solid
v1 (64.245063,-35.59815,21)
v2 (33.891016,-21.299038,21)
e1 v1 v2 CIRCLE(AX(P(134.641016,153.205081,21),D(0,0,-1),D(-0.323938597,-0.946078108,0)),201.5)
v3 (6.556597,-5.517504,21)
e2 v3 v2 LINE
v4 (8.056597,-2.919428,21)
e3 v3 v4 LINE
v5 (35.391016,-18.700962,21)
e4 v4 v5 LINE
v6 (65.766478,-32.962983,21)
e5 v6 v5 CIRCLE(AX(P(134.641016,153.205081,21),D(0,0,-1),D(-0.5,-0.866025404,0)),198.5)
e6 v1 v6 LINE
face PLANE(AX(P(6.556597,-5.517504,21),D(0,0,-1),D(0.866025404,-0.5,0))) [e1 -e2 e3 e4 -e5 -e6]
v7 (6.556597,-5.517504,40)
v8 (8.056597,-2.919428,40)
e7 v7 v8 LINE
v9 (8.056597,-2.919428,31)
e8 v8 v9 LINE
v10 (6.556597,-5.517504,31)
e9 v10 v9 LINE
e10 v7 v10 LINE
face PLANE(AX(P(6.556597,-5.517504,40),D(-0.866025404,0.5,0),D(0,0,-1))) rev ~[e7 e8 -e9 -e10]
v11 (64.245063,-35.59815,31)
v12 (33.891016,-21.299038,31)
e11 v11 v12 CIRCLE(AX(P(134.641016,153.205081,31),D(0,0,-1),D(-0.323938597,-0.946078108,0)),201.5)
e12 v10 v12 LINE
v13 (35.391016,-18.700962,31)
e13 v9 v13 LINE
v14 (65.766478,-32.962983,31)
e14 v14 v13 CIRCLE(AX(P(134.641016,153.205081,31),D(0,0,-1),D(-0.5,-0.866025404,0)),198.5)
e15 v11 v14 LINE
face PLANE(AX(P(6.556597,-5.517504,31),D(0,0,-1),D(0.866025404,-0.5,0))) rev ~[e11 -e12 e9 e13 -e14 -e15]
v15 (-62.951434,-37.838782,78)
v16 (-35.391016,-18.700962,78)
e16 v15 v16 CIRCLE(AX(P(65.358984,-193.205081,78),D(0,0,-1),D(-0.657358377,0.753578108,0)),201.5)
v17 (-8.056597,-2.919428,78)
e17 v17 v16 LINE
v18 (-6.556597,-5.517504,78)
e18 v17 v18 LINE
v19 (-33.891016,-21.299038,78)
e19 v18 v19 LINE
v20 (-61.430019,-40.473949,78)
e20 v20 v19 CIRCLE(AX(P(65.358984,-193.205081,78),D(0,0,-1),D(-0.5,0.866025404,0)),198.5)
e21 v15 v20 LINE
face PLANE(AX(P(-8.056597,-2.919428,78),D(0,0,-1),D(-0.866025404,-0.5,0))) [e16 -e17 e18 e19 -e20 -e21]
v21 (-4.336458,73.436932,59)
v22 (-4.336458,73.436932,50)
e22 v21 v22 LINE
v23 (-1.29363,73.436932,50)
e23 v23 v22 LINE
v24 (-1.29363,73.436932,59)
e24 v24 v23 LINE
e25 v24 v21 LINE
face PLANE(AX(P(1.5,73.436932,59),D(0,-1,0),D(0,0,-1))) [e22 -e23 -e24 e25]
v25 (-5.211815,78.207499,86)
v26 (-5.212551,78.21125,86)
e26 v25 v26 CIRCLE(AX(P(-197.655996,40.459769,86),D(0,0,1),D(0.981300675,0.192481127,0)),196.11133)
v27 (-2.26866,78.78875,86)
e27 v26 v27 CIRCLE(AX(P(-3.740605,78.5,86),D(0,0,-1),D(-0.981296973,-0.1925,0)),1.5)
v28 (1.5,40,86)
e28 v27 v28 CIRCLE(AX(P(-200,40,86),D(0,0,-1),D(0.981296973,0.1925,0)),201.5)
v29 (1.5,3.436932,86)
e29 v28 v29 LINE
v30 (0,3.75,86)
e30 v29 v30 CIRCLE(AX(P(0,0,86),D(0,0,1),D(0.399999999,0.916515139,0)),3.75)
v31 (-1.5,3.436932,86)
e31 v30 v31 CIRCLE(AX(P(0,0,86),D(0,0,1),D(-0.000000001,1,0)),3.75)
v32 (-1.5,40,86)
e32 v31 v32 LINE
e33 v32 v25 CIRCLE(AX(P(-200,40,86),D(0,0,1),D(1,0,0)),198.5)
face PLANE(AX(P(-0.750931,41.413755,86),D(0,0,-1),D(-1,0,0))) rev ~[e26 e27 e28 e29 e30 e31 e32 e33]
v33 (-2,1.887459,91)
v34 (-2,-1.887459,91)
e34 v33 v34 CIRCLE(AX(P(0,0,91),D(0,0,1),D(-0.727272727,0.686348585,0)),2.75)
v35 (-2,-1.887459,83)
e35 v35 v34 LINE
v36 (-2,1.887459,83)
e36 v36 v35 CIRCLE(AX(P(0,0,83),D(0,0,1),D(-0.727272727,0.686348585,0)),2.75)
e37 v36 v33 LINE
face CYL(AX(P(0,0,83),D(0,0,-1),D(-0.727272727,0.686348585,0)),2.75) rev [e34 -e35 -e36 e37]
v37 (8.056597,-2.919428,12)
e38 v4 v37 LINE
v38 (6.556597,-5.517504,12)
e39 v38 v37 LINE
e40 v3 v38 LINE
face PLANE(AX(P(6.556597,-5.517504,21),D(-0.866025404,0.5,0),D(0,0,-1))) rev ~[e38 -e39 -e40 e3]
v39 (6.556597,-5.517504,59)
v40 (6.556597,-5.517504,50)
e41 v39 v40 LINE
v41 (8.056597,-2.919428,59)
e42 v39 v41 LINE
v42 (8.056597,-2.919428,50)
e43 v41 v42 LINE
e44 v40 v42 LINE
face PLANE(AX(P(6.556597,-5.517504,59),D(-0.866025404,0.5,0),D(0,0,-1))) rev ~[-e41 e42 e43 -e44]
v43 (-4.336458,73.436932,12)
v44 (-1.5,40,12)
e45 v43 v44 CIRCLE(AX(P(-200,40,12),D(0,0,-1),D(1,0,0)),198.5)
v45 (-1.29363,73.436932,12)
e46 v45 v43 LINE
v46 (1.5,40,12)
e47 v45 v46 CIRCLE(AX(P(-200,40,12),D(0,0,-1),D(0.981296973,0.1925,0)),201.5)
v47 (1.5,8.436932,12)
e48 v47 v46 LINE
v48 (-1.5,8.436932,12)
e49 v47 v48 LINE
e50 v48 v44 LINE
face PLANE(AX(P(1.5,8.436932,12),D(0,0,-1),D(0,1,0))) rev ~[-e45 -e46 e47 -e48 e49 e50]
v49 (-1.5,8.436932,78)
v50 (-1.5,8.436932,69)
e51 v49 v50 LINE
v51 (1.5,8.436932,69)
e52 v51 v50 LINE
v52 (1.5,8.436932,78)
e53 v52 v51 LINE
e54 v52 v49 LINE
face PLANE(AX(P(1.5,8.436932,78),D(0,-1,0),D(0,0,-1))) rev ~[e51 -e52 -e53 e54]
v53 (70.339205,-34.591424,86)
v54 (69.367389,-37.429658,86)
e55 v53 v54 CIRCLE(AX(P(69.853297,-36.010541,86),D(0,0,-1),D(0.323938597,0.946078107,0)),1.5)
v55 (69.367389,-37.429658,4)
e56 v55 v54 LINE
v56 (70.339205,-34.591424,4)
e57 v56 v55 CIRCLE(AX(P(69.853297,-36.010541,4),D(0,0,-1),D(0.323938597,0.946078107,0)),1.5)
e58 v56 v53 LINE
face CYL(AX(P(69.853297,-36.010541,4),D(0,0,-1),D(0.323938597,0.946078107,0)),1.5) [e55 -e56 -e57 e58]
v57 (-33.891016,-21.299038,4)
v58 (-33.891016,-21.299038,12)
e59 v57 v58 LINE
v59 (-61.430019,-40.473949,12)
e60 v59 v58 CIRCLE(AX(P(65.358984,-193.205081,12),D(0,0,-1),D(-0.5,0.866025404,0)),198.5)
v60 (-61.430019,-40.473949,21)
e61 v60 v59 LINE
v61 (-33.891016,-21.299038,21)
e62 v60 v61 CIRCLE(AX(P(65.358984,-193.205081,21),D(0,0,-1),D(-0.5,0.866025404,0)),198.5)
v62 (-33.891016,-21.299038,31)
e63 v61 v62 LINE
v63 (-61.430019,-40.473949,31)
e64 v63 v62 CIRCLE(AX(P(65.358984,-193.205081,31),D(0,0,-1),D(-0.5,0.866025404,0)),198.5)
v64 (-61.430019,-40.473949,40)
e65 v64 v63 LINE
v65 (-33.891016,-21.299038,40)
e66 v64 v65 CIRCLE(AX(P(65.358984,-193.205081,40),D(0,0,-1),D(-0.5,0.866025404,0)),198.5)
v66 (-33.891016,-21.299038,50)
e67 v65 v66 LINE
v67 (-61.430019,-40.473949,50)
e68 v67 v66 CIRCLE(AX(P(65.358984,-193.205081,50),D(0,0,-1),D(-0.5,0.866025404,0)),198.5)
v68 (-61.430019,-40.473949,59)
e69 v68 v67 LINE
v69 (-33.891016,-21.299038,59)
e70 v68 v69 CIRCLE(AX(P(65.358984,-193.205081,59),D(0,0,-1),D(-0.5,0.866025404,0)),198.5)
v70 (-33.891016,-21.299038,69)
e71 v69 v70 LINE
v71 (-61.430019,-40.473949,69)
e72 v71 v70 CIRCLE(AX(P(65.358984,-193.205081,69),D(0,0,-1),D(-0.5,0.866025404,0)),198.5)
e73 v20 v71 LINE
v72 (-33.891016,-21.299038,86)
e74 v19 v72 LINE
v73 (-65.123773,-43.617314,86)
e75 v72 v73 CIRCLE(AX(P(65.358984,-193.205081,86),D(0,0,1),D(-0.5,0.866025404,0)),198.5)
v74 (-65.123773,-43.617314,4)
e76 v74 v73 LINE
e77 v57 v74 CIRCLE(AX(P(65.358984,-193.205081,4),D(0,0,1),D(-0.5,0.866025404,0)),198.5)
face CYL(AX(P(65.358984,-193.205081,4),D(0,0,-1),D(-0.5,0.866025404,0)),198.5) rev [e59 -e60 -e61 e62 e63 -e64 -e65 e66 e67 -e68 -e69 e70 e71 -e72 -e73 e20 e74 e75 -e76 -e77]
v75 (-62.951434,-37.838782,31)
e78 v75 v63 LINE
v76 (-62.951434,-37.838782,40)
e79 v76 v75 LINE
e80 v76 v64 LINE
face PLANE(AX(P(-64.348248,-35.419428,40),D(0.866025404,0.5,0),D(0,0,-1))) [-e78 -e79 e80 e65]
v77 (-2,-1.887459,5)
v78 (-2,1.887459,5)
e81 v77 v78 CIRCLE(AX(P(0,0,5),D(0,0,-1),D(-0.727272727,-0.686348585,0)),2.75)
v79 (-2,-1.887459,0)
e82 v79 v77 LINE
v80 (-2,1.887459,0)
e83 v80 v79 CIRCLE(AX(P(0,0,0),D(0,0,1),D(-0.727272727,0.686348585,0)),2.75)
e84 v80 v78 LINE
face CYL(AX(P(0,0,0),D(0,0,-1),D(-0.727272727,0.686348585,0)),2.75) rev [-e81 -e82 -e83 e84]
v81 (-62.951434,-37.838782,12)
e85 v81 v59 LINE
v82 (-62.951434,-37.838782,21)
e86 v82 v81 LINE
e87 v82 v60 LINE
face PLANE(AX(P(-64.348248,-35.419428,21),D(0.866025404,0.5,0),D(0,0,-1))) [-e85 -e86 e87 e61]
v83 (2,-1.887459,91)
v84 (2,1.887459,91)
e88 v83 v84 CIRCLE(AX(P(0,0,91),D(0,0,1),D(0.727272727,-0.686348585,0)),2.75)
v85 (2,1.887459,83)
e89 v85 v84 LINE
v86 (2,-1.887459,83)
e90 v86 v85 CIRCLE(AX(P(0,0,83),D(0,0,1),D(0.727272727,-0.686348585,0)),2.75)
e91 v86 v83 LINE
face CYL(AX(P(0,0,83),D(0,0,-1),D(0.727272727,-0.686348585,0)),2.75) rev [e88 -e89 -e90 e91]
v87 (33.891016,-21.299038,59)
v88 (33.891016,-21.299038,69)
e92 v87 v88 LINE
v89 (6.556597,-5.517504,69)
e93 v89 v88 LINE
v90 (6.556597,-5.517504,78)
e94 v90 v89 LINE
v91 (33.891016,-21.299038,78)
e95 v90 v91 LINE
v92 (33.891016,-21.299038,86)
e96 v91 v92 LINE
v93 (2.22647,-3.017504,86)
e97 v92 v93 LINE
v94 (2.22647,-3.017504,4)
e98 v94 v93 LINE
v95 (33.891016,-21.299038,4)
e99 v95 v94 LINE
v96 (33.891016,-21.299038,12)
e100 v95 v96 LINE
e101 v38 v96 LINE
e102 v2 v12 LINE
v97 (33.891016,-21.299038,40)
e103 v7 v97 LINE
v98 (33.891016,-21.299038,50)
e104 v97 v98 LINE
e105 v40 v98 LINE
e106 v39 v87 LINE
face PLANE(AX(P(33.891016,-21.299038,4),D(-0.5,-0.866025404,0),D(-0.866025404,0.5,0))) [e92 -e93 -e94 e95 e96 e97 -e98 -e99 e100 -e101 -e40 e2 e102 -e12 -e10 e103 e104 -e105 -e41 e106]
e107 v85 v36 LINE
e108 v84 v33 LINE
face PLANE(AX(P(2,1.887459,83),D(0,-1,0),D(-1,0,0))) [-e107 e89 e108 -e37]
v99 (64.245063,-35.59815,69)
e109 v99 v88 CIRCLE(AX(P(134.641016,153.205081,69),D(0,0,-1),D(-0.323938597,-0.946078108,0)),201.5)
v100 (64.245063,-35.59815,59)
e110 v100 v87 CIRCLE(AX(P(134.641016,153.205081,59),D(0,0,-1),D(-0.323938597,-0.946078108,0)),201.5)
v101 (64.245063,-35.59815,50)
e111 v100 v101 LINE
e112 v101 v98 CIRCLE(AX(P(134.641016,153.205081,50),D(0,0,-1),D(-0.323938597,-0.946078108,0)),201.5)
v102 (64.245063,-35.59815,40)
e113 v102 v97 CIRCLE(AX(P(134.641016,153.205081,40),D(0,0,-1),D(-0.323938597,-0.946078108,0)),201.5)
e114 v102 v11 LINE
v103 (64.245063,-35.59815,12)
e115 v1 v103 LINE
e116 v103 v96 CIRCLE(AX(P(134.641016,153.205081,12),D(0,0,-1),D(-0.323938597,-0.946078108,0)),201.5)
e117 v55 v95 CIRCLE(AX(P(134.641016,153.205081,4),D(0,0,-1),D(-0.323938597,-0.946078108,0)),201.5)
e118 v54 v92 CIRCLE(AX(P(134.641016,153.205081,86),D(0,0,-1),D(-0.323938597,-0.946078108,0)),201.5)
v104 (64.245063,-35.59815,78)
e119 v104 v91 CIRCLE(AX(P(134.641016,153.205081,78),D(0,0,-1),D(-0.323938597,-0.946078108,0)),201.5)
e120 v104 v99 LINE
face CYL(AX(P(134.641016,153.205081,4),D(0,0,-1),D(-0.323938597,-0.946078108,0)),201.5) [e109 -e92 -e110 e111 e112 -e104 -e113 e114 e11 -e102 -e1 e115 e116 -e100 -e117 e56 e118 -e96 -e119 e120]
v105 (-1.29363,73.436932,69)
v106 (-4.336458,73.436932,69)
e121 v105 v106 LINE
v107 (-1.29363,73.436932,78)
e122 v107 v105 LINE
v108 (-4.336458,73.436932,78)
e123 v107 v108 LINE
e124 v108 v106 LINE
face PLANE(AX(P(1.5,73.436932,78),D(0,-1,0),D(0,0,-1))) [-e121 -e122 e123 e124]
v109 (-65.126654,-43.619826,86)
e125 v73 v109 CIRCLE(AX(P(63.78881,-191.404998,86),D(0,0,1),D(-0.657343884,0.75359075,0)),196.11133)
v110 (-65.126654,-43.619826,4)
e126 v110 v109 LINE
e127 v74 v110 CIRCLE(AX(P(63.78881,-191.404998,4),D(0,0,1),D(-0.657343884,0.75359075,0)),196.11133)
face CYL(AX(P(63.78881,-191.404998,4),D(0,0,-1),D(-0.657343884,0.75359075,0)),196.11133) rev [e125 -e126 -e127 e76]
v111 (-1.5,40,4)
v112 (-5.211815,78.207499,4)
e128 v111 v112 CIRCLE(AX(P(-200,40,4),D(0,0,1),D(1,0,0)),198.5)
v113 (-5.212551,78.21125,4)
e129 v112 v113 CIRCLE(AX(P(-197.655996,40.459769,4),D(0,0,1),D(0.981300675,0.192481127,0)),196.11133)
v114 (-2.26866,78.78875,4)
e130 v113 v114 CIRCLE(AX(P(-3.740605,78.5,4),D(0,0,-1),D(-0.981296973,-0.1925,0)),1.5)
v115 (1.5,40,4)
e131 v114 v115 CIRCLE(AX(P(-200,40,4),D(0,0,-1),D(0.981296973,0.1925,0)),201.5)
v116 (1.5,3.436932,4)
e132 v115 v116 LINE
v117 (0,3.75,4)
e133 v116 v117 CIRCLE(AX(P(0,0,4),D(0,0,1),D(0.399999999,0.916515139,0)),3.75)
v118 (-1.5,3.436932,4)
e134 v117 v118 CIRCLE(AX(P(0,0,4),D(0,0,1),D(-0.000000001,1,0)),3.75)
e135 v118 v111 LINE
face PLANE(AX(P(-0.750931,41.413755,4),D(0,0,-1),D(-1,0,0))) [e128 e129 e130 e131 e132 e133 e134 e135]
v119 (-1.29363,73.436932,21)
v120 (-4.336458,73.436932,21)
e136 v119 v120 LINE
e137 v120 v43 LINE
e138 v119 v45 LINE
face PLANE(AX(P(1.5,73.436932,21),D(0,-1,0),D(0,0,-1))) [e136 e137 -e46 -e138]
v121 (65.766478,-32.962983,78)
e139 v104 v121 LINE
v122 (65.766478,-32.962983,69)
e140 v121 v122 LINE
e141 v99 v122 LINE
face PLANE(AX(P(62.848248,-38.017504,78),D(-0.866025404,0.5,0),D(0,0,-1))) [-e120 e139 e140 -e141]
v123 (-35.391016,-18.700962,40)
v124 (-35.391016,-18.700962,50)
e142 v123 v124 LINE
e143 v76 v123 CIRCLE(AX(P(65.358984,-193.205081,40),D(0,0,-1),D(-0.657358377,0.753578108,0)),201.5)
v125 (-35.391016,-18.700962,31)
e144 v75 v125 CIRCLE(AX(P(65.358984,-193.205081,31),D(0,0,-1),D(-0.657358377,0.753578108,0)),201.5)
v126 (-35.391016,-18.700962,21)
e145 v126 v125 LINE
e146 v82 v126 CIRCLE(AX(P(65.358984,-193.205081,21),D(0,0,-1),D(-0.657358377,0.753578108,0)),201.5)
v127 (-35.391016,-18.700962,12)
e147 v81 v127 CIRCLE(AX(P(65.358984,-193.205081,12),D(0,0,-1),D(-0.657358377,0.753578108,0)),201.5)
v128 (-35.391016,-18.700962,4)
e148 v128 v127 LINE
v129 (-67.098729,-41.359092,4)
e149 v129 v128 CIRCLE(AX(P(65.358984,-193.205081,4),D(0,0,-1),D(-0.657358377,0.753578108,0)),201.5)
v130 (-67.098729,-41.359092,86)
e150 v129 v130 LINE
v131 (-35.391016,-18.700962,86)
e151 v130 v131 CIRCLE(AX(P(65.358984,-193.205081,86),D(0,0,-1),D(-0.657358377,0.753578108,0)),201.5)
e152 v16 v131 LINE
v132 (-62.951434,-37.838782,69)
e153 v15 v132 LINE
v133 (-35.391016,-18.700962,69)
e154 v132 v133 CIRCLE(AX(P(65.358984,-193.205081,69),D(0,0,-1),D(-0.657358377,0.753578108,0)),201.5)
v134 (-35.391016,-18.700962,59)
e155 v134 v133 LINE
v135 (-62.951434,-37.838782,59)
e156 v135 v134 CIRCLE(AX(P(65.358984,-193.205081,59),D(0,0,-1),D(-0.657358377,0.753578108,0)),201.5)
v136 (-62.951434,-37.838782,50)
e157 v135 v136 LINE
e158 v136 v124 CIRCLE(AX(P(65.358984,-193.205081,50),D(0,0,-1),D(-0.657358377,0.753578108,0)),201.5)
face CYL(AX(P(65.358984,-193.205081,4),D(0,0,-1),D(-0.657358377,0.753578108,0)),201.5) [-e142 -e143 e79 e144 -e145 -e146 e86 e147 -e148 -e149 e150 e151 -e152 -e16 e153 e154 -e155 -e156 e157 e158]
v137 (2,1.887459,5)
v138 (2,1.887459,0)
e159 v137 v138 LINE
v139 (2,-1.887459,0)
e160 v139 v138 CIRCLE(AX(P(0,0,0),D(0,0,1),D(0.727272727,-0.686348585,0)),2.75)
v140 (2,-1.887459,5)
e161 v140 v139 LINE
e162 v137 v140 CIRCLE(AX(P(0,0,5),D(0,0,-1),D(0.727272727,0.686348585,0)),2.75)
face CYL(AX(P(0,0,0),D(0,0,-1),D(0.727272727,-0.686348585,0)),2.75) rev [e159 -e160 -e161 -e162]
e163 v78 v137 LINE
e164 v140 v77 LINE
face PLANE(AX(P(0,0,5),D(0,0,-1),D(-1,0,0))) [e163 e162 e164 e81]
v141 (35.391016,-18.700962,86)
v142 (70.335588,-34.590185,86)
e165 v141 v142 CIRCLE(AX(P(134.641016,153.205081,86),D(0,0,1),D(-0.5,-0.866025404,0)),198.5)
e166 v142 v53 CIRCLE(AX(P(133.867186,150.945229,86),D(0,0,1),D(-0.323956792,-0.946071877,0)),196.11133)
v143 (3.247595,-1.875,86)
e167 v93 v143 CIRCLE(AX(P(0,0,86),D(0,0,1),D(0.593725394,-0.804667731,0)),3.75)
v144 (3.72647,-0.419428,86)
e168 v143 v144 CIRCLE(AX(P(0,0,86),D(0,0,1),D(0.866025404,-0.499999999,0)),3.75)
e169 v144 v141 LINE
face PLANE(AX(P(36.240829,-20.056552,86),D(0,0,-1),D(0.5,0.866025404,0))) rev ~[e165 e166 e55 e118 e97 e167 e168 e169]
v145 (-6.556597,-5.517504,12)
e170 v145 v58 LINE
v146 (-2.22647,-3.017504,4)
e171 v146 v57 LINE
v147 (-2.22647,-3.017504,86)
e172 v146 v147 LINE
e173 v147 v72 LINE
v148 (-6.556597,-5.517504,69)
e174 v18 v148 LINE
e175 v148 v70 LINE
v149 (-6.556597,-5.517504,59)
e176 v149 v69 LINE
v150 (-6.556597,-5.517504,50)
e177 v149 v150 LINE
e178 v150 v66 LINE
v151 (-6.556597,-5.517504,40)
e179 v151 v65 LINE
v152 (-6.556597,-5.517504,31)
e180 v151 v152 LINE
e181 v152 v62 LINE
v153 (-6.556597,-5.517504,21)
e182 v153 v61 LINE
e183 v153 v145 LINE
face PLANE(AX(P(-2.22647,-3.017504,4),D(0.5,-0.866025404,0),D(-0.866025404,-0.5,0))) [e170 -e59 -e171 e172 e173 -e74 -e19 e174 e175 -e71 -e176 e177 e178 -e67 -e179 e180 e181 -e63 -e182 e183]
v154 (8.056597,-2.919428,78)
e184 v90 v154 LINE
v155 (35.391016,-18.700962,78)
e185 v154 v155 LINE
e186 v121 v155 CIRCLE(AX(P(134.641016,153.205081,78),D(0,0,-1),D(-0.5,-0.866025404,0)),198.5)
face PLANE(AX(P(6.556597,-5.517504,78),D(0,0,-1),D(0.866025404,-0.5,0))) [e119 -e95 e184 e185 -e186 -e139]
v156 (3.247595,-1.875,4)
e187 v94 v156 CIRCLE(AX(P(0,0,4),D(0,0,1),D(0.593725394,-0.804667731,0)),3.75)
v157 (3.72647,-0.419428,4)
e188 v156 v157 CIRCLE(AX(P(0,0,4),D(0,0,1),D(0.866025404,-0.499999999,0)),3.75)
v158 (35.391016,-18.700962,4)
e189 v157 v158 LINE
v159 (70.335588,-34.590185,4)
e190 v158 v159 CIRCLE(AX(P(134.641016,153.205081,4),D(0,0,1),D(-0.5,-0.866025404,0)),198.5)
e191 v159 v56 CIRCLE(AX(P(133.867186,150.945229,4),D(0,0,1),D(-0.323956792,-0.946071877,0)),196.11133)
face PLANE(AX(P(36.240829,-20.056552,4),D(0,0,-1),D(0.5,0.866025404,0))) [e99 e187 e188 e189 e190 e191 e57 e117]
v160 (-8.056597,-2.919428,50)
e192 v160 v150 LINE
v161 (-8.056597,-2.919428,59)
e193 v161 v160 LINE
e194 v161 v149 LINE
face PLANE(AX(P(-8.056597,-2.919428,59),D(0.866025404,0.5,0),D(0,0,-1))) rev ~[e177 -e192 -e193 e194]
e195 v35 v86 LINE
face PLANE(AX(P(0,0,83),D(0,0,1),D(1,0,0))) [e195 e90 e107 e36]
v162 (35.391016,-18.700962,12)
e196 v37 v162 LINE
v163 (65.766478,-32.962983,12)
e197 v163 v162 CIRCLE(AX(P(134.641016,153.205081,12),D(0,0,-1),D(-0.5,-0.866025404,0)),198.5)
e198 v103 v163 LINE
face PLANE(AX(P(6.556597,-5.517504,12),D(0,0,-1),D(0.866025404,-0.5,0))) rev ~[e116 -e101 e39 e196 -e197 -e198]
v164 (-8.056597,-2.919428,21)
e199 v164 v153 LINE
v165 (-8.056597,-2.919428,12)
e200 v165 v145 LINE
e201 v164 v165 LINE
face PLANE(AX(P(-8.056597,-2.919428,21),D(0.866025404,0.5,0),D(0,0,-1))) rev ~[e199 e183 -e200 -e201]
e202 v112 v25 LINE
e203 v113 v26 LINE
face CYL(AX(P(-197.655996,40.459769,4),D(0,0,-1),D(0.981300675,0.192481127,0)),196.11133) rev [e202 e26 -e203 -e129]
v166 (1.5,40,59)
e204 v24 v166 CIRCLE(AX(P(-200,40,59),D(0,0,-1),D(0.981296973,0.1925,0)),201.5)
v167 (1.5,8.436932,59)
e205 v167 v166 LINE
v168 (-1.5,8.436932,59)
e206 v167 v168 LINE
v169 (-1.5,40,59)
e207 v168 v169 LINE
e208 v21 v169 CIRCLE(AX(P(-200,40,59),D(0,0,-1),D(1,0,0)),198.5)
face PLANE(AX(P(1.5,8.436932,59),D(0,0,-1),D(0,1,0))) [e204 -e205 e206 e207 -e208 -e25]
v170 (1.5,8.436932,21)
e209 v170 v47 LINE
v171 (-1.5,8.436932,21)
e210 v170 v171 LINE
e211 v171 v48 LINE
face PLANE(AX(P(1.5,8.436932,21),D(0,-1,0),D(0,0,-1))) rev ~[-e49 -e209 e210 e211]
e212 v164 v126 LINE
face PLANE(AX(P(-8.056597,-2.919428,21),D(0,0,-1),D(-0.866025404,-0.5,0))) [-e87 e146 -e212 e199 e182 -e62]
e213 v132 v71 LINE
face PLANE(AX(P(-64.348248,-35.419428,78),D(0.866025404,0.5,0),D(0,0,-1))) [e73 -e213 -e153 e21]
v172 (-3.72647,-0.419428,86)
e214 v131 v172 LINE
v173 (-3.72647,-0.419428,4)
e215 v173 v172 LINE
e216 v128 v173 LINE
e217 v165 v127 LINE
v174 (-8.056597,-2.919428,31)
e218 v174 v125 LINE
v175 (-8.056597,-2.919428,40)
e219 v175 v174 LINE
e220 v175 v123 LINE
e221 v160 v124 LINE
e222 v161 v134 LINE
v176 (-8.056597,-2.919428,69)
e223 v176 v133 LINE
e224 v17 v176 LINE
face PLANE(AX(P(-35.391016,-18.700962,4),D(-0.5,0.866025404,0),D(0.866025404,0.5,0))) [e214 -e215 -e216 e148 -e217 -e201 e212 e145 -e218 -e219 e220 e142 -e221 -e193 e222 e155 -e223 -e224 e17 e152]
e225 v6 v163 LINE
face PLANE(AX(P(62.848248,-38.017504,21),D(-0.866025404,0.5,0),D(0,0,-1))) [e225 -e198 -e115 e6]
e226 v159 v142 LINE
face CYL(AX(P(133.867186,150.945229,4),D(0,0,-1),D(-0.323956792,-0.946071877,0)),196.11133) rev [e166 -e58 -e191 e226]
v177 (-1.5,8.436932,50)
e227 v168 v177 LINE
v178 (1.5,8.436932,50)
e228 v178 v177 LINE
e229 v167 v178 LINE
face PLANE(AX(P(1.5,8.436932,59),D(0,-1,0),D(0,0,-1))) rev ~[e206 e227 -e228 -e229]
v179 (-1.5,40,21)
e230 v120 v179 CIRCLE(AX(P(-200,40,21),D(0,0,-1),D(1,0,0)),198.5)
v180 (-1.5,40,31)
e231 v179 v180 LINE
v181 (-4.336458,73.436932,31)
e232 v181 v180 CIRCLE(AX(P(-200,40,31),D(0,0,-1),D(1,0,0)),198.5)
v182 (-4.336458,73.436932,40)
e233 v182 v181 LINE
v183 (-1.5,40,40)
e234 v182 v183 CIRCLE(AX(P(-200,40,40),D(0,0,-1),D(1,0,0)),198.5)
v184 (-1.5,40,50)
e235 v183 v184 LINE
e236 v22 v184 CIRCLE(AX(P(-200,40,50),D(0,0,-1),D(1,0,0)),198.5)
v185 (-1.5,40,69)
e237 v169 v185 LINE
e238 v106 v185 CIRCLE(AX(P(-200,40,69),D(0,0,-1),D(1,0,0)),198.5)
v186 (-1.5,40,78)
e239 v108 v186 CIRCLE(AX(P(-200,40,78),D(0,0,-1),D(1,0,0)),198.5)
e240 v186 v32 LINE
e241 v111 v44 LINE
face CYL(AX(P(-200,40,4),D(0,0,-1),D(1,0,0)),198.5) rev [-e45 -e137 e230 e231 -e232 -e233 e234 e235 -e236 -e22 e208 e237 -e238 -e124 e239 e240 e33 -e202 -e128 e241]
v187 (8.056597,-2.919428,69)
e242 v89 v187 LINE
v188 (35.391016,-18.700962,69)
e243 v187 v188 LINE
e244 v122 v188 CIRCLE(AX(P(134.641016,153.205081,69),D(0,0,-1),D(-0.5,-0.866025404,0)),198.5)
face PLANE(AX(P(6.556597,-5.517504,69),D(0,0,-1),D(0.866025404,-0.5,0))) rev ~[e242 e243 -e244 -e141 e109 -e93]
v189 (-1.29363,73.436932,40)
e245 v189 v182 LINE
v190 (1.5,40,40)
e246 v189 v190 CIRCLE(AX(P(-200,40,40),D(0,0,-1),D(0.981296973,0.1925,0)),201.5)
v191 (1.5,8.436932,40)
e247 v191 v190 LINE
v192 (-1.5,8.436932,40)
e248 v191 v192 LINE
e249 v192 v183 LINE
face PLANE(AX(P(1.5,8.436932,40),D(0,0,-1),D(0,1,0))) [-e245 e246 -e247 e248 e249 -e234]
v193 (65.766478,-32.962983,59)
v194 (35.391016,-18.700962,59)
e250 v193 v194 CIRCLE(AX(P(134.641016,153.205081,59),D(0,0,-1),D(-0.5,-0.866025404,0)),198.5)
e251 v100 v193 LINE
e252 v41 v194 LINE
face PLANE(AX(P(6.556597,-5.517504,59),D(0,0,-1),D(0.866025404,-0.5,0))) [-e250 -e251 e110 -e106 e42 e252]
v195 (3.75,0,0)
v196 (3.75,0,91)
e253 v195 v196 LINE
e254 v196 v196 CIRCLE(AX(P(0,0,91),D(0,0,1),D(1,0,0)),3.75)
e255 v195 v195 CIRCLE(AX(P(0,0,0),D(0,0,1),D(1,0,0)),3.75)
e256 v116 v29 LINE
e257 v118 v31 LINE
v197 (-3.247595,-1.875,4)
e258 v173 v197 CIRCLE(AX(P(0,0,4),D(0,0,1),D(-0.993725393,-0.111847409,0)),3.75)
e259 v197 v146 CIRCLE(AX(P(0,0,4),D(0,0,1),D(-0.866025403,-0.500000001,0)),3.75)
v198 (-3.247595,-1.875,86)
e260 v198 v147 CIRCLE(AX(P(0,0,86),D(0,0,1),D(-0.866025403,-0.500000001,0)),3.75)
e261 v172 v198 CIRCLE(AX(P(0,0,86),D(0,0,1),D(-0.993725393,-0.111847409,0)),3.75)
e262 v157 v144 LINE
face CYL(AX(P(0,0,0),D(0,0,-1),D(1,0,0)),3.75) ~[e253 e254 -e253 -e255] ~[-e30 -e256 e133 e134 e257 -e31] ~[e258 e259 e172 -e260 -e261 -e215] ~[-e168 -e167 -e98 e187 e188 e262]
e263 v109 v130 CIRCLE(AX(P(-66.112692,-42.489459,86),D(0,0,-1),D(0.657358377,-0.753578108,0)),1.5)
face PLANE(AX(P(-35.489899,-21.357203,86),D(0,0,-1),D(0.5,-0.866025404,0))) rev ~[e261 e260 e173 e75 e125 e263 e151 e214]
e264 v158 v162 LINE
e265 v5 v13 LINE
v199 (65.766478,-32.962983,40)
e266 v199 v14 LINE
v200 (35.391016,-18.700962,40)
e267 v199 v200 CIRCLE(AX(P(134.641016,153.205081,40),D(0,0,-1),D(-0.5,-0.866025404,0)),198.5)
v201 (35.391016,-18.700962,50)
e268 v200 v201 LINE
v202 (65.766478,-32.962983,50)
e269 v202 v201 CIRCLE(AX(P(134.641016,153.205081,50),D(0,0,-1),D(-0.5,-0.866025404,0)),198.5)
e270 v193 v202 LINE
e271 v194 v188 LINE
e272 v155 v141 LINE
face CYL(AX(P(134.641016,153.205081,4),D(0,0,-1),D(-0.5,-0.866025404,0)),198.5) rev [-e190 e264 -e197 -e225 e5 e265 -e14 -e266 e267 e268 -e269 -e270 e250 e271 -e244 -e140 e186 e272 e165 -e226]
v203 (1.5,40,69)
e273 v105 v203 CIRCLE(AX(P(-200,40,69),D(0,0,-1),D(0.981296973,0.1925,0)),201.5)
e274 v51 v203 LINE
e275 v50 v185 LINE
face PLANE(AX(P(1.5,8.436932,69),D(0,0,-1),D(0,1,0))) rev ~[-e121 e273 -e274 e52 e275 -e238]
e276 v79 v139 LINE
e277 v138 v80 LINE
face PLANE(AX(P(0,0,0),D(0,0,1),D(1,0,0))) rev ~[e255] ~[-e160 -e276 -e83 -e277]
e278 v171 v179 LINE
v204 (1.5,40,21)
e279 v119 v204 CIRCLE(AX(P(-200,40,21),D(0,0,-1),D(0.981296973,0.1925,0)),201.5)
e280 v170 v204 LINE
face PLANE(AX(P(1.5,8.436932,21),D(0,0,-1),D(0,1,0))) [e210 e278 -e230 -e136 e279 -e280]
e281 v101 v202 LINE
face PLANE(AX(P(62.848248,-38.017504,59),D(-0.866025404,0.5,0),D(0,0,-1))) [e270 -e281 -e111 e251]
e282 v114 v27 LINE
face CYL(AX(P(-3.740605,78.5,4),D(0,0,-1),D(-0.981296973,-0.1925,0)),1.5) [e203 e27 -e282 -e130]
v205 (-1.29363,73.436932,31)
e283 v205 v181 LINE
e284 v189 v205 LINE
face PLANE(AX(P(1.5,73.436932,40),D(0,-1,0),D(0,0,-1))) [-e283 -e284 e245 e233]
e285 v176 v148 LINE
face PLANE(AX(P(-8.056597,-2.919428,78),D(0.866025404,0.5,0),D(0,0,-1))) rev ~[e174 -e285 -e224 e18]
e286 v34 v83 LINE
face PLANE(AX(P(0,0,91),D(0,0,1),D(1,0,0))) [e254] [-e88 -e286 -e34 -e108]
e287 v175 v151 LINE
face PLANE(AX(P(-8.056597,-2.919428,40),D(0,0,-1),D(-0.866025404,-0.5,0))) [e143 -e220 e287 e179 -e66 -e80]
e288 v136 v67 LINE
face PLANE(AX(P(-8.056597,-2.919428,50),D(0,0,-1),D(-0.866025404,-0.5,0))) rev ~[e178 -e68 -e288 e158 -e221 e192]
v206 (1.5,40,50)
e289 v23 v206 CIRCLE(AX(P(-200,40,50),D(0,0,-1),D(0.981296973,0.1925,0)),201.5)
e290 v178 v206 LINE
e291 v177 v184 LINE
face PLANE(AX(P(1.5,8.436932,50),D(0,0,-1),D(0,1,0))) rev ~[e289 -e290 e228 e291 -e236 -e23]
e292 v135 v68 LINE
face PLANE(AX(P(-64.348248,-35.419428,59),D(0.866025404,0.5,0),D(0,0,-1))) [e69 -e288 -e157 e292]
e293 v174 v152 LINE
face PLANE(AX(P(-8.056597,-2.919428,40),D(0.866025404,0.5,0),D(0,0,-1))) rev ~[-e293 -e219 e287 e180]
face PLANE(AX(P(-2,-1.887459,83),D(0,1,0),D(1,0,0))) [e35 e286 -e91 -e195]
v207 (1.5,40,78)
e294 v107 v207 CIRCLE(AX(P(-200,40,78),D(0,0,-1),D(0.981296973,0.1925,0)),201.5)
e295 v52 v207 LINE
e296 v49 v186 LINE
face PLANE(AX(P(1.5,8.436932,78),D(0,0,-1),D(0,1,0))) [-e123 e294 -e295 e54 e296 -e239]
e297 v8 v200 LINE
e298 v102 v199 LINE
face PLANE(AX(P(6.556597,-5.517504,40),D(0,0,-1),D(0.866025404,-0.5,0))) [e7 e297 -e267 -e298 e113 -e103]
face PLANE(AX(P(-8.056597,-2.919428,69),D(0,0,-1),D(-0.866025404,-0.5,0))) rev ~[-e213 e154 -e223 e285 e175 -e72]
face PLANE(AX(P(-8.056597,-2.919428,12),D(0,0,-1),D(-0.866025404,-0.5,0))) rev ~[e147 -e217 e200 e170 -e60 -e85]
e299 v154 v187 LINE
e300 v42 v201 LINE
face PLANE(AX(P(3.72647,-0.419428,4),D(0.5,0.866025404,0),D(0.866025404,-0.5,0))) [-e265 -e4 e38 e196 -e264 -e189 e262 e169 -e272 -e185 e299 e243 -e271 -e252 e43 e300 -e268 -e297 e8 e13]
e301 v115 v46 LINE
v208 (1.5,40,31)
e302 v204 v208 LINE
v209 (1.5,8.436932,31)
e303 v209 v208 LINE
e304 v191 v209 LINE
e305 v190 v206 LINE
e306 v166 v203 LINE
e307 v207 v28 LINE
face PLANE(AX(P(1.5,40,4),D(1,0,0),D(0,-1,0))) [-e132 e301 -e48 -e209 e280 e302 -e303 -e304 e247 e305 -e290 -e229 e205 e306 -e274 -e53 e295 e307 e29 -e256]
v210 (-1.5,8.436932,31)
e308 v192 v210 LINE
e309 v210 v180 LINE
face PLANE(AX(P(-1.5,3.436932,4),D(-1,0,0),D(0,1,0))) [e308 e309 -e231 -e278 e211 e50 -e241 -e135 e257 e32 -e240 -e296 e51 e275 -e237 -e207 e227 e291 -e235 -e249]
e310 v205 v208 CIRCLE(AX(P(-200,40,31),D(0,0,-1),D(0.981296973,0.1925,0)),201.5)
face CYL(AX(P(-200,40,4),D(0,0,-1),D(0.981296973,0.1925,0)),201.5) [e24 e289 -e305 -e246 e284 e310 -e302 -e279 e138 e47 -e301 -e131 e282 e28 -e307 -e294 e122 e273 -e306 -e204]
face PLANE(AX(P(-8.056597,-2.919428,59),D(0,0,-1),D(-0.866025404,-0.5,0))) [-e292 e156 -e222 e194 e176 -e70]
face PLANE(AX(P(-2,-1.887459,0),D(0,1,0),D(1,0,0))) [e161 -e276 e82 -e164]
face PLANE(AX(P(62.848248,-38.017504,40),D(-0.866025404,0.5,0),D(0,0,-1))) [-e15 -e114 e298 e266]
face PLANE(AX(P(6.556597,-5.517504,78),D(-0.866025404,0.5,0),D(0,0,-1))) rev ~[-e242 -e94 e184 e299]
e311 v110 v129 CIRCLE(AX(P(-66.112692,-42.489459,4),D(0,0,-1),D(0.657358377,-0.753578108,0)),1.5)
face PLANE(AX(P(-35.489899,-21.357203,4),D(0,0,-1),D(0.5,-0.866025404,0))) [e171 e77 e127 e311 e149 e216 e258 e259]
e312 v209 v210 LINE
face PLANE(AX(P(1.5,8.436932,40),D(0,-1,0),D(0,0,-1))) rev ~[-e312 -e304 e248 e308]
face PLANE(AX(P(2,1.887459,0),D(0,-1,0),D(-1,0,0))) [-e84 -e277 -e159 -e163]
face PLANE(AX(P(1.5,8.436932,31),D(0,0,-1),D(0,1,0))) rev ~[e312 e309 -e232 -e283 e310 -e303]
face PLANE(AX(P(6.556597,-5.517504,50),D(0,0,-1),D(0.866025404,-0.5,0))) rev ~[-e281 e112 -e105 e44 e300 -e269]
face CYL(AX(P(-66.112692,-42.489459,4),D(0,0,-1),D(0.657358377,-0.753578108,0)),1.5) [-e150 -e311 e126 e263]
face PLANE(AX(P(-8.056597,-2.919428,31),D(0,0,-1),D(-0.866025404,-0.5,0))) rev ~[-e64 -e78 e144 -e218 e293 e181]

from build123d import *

# Parameters (mm, degrees)
SKETCH_1_R               = 3.75
EXTRUDE_1_DEPTH          = 91
CUT_EXTRUDE_1_DEPTH      = 9
SKETCH_4_R               = 2.5
EXTRUDE_2_DEPTH          = 6
EXTRUDE_START            = -4
EXTRUDE_3_DEPTH          = 82
SKETCH_10_R              = 2.5
EXTRUDE_4_DEPTH          = 2
EXTRUDE_START_2          = 3
EXTRUDE_5_DEPTH          = 3
EXTRUDE_START_3          = 1.5
EXTRUDE_6_DEPTH          = 1.5
CUT_EXTRUDE_4_DEPTH      = 0.5
CUT_EXTRUDE_START        = -8
SKETCH_14_R              = 2.5
CUT_EXTRUDE_5_DEPTH      = 8
CUT_EXTRUDE_9_DEPTH      = 8
CUT_EXTRUDE_10_REACH     = 123.353
SKETCH_16_W              = 9
SKETCH_16_H              = 65
PATTERN_CIRCULAR_1_COUNT = 3
PATTERN_CIRCULAR_2_COUNT = 3


with BuildPart() as part:
    # 草图1 → 凸台-拉伸1 (new body)
    with BuildSketch(Plane.XY):
        Circle(SKETCH_1_R)
    extrude(amount=EXTRUDE_1_DEPTH)

    # 草图2 → 切除-拉伸1 (cut)
    with BuildSketch(Plane(origin=(0, 0, 0), x_dir=(-1, 0, 0), z_dir=(0, 0, -1))):
        with BuildLine():
            Line((-2, 1.887458609), (2, 1.887458609))
            ThreePointArc((2, 1.887458609), (2.75, 0), (2, -1.887458609))
            Line((2, -1.887458609), (-2, -1.887458609))
            ThreePointArc((-2, -1.887458609), (-2.75, 0), (-2, 1.887458609))
        make_face()
    extrude(amount=-CUT_EXTRUDE_1_DEPTH, mode=Mode.SUBTRACT)

    # 草图4 → 凸台-拉伸2 (add)
    with BuildSketch(Plane.XY.offset(91)):
        Circle(SKETCH_4_R)
    extrude(amount=EXTRUDE_2_DEPTH)

    # 草图7 → 凸台-拉伸3 (add)
    with BuildSketch(Plane(origin=(0, 0, 0), x_dir=(-1, 0, 0), z_dir=(0, 0, -1)).offset(EXTRUDE_START)):
        with BuildLine():
            ThreePointArc((-1.5, 3.436931771), (-0.766161164, 3.670898673), (0, 3.75))
            ThreePointArc((0, 3.75), (0.766161164, 3.670898673), (1.5, 3.436931771))
            Line((1.5, 3.436931771), (1.5, 40))
            ThreePointArc((1.5, 40), (2.430132962, 59.193687469), (5.211814999, 78.207499055))
            ThreePointArc((5.211814999, 78.207499055), (5.212182881, 78.20937453), (5.212550781, 78.21125))
            ThreePointArc((5.212550781, 78.21125), (4.02935532, 79.97194546), (2.26865986, 78.78875))
            ThreePointArc((2.26865986, 78.78875), (-0.555622008, 59.485699395), (-1.5, 40))
            Line((-1.5, 40), (-1.5, 3.436931771))
        make_face()
    extrude_3 = extrude(amount=-EXTRUDE_3_DEPTH)

    # 草图10 → 凸台-拉伸4 (add)
    with BuildSketch(Plane.XY.offset(97)):
        Circle(SKETCH_10_R)
    extrude(amount=EXTRUDE_4_DEPTH)

    # 草图11 → 凸台-拉伸5 (add)
    with BuildSketch(Plane(origin=(0, 0, 9), x_dir=(-1, 0, 0), z_dir=(0, 0, -1)).offset(EXTRUDE_START_2)):
        with BuildLine():
            Line((-2, -1.887458609), (2, -1.887458609))
            ThreePointArc((2, -1.887458609), (2.75, 0), (2, 1.887458609))
            Line((2, 1.887458609), (-2, 1.887458609))
            ThreePointArc((-2, 1.887458609), (-2.75, 0), (-2, -1.887458609))
        make_face()
    extrude(amount=-EXTRUDE_5_DEPTH)

    # 草图12 → 凸台-拉伸6 (add)
    with BuildSketch(Plane(origin=(0, 0, 6), x_dir=(-1, 0, 0), z_dir=(0, 0, -1)).offset(EXTRUDE_START_3)):
        with BuildLine():
            Line((-2, -1.887458609), (2, -1.887458609))
            ThreePointArc((2, -1.887458609), (2.75, 0), (2, 1.887458609))
            Line((2, 1.887458609), (-2, 1.887458609))
            ThreePointArc((-2, 1.887458609), (-2.75, 0), (-2, -1.887458609))
        make_face()
    extrude(amount=-EXTRUDE_6_DEPTH)

    # 草图13 → 切除-拉伸4 (cut)
    with BuildSketch(Plane(origin=(0, 0, 4.5), x_dir=(-1, 0, 0), z_dir=(0, 0, -1))):
        with BuildLine():
            Line((-2, -1.887458609), (2, -1.887458609))
            ThreePointArc((2, -1.887458609), (2.75, 0), (2, 1.887458609))
            Line((2, 1.887458609), (-2, 1.887458609))
            ThreePointArc((-2, 1.887458609), (-2.75, 0), (-2, -1.887458609))
        make_face()
    extrude(amount=-CUT_EXTRUDE_4_DEPTH, mode=Mode.SUBTRACT)

    # 草图14 → 切除-拉伸5 (cut)
    with BuildSketch(Plane.XY.offset(99).offset(CUT_EXTRUDE_START)):
        Circle(SKETCH_14_R)
    extrude(amount=CUT_EXTRUDE_5_DEPTH, mode=Mode.SUBTRACT)

    # 草图15 → 切除-拉伸9 (cut)
    with BuildSketch(Plane.XY.offset(91).offset(CUT_EXTRUDE_START)):
        with BuildLine():
            Line((-2, -1.887458609), (2, -1.887458609))
            ThreePointArc((2, -1.887458609), (2.75, 0), (2, 1.887458609))
            Line((2, 1.887458609), (-2, 1.887458609))
            ThreePointArc((-2, 1.887458609), (-2.75, 0), (-2, -1.887458609))
        make_face()
    extrude(amount=CUT_EXTRUDE_9_DEPTH, mode=Mode.SUBTRACT)

    # 草图16 → 切除-拉伸10 (cut, up to next)
    with BuildSketch(Plane(origin=(1.5, 0, 0), x_dir=(0, 0, -1), z_dir=(1, 0, 0)), mode=Mode.PRIVATE) as cut_extrude_10_sk1:
        with Locations((-73.5, 40.936931771)):
            Rectangle(SKETCH_16_W, SKETCH_16_H)
    cut_extrude_10_tool1 = extrude(cut_extrude_10_sk1.sketch, amount=-CUT_EXTRUDE_10_REACH, mode=Mode.PRIVATE) & part.part
    # 草图16 → 切除-拉伸10 (cut, up to next)
    with BuildSketch(Plane(origin=(1.5, 0, 0), x_dir=(0, 0, -1), z_dir=(1, 0, 0)), mode=Mode.PRIVATE) as cut_extrude_10_sk2:
        with Locations((-54.5, 40.936931771)):
            Rectangle(SKETCH_16_W, SKETCH_16_H)
    cut_extrude_10_tool2 = extrude(cut_extrude_10_sk2.sketch, amount=-CUT_EXTRUDE_10_REACH, mode=Mode.PRIVATE) & part.part
    # 草图16 → 切除-拉伸10 (cut, up to next)
    with BuildSketch(Plane(origin=(1.5, 0, 0), x_dir=(0, 0, -1), z_dir=(1, 0, 0)), mode=Mode.PRIVATE) as cut_extrude_10_sk3:
        with Locations((-35.5, 40.936931771)):
            Rectangle(SKETCH_16_W, SKETCH_16_H)
    cut_extrude_10_tool3 = extrude(cut_extrude_10_sk3.sketch, amount=-CUT_EXTRUDE_10_REACH, mode=Mode.PRIVATE) & part.part
    # 草图16 → 切除-拉伸10 (cut, up to next)
    with BuildSketch(Plane(origin=(1.5, 0, 0), x_dir=(0, 0, -1), z_dir=(1, 0, 0)), mode=Mode.PRIVATE) as cut_extrude_10_sk4:
        with Locations((-16.5, 40.936931771)):
            Rectangle(SKETCH_16_W, SKETCH_16_H)
    cut_extrude_10_tool4 = extrude(cut_extrude_10_sk4.sketch, amount=-CUT_EXTRUDE_10_REACH, mode=Mode.PRIVATE) & part.part
    cut_extrude_10_1 = cut_extrude_10_tool1.solids().sort_by_distance((1.5, 40.936932, 73.5))[0]
    add(cut_extrude_10_1, mode=Mode.SUBTRACT)
    cut_extrude_10_2 = cut_extrude_10_tool2.solids().sort_by_distance((1.5, 40.936932, 54.5))[0]
    add(cut_extrude_10_2, mode=Mode.SUBTRACT)
    cut_extrude_10_3 = cut_extrude_10_tool3.solids().sort_by_distance((1.5, 40.936932, 35.5))[0]
    add(cut_extrude_10_3, mode=Mode.SUBTRACT)
    cut_extrude_10_4 = cut_extrude_10_tool4.solids().sort_by_distance((1.5, 40.936932, 16.5))[0]
    add(cut_extrude_10_4, mode=Mode.SUBTRACT)
    cut_extrude_10 = cut_extrude_10_1 + cut_extrude_10_2 + cut_extrude_10_3 + cut_extrude_10_4  # 切除-拉伸10 as one shape, for the pattern or mirror that repeats it

    # 阵列(圆周)1: 凸台-拉伸3 ×3 about axis
    pattern_circular_1_axis = Axis((0, 0, 0), (0, 0, 1))
    for i in range(1, PATTERN_CIRCULAR_1_COUNT):
        add(extrude_3.rotate(pattern_circular_1_axis, i * 360 / PATTERN_CIRCULAR_1_COUNT))

    # 阵列(圆周)2: 切除-拉伸10 ×3 about axis
    pattern_circular_2_axis = Axis((0, 0, 0), (0, 0, 1))
    for i in range(1, PATTERN_CIRCULAR_2_COUNT):
        add(cut_extrude_10.rotate(pattern_circular_2_axis, i * 360 / PATTERN_CIRCULAR_2_COUNT), mode=Mode.SUBTRACT)


solid = part.part
